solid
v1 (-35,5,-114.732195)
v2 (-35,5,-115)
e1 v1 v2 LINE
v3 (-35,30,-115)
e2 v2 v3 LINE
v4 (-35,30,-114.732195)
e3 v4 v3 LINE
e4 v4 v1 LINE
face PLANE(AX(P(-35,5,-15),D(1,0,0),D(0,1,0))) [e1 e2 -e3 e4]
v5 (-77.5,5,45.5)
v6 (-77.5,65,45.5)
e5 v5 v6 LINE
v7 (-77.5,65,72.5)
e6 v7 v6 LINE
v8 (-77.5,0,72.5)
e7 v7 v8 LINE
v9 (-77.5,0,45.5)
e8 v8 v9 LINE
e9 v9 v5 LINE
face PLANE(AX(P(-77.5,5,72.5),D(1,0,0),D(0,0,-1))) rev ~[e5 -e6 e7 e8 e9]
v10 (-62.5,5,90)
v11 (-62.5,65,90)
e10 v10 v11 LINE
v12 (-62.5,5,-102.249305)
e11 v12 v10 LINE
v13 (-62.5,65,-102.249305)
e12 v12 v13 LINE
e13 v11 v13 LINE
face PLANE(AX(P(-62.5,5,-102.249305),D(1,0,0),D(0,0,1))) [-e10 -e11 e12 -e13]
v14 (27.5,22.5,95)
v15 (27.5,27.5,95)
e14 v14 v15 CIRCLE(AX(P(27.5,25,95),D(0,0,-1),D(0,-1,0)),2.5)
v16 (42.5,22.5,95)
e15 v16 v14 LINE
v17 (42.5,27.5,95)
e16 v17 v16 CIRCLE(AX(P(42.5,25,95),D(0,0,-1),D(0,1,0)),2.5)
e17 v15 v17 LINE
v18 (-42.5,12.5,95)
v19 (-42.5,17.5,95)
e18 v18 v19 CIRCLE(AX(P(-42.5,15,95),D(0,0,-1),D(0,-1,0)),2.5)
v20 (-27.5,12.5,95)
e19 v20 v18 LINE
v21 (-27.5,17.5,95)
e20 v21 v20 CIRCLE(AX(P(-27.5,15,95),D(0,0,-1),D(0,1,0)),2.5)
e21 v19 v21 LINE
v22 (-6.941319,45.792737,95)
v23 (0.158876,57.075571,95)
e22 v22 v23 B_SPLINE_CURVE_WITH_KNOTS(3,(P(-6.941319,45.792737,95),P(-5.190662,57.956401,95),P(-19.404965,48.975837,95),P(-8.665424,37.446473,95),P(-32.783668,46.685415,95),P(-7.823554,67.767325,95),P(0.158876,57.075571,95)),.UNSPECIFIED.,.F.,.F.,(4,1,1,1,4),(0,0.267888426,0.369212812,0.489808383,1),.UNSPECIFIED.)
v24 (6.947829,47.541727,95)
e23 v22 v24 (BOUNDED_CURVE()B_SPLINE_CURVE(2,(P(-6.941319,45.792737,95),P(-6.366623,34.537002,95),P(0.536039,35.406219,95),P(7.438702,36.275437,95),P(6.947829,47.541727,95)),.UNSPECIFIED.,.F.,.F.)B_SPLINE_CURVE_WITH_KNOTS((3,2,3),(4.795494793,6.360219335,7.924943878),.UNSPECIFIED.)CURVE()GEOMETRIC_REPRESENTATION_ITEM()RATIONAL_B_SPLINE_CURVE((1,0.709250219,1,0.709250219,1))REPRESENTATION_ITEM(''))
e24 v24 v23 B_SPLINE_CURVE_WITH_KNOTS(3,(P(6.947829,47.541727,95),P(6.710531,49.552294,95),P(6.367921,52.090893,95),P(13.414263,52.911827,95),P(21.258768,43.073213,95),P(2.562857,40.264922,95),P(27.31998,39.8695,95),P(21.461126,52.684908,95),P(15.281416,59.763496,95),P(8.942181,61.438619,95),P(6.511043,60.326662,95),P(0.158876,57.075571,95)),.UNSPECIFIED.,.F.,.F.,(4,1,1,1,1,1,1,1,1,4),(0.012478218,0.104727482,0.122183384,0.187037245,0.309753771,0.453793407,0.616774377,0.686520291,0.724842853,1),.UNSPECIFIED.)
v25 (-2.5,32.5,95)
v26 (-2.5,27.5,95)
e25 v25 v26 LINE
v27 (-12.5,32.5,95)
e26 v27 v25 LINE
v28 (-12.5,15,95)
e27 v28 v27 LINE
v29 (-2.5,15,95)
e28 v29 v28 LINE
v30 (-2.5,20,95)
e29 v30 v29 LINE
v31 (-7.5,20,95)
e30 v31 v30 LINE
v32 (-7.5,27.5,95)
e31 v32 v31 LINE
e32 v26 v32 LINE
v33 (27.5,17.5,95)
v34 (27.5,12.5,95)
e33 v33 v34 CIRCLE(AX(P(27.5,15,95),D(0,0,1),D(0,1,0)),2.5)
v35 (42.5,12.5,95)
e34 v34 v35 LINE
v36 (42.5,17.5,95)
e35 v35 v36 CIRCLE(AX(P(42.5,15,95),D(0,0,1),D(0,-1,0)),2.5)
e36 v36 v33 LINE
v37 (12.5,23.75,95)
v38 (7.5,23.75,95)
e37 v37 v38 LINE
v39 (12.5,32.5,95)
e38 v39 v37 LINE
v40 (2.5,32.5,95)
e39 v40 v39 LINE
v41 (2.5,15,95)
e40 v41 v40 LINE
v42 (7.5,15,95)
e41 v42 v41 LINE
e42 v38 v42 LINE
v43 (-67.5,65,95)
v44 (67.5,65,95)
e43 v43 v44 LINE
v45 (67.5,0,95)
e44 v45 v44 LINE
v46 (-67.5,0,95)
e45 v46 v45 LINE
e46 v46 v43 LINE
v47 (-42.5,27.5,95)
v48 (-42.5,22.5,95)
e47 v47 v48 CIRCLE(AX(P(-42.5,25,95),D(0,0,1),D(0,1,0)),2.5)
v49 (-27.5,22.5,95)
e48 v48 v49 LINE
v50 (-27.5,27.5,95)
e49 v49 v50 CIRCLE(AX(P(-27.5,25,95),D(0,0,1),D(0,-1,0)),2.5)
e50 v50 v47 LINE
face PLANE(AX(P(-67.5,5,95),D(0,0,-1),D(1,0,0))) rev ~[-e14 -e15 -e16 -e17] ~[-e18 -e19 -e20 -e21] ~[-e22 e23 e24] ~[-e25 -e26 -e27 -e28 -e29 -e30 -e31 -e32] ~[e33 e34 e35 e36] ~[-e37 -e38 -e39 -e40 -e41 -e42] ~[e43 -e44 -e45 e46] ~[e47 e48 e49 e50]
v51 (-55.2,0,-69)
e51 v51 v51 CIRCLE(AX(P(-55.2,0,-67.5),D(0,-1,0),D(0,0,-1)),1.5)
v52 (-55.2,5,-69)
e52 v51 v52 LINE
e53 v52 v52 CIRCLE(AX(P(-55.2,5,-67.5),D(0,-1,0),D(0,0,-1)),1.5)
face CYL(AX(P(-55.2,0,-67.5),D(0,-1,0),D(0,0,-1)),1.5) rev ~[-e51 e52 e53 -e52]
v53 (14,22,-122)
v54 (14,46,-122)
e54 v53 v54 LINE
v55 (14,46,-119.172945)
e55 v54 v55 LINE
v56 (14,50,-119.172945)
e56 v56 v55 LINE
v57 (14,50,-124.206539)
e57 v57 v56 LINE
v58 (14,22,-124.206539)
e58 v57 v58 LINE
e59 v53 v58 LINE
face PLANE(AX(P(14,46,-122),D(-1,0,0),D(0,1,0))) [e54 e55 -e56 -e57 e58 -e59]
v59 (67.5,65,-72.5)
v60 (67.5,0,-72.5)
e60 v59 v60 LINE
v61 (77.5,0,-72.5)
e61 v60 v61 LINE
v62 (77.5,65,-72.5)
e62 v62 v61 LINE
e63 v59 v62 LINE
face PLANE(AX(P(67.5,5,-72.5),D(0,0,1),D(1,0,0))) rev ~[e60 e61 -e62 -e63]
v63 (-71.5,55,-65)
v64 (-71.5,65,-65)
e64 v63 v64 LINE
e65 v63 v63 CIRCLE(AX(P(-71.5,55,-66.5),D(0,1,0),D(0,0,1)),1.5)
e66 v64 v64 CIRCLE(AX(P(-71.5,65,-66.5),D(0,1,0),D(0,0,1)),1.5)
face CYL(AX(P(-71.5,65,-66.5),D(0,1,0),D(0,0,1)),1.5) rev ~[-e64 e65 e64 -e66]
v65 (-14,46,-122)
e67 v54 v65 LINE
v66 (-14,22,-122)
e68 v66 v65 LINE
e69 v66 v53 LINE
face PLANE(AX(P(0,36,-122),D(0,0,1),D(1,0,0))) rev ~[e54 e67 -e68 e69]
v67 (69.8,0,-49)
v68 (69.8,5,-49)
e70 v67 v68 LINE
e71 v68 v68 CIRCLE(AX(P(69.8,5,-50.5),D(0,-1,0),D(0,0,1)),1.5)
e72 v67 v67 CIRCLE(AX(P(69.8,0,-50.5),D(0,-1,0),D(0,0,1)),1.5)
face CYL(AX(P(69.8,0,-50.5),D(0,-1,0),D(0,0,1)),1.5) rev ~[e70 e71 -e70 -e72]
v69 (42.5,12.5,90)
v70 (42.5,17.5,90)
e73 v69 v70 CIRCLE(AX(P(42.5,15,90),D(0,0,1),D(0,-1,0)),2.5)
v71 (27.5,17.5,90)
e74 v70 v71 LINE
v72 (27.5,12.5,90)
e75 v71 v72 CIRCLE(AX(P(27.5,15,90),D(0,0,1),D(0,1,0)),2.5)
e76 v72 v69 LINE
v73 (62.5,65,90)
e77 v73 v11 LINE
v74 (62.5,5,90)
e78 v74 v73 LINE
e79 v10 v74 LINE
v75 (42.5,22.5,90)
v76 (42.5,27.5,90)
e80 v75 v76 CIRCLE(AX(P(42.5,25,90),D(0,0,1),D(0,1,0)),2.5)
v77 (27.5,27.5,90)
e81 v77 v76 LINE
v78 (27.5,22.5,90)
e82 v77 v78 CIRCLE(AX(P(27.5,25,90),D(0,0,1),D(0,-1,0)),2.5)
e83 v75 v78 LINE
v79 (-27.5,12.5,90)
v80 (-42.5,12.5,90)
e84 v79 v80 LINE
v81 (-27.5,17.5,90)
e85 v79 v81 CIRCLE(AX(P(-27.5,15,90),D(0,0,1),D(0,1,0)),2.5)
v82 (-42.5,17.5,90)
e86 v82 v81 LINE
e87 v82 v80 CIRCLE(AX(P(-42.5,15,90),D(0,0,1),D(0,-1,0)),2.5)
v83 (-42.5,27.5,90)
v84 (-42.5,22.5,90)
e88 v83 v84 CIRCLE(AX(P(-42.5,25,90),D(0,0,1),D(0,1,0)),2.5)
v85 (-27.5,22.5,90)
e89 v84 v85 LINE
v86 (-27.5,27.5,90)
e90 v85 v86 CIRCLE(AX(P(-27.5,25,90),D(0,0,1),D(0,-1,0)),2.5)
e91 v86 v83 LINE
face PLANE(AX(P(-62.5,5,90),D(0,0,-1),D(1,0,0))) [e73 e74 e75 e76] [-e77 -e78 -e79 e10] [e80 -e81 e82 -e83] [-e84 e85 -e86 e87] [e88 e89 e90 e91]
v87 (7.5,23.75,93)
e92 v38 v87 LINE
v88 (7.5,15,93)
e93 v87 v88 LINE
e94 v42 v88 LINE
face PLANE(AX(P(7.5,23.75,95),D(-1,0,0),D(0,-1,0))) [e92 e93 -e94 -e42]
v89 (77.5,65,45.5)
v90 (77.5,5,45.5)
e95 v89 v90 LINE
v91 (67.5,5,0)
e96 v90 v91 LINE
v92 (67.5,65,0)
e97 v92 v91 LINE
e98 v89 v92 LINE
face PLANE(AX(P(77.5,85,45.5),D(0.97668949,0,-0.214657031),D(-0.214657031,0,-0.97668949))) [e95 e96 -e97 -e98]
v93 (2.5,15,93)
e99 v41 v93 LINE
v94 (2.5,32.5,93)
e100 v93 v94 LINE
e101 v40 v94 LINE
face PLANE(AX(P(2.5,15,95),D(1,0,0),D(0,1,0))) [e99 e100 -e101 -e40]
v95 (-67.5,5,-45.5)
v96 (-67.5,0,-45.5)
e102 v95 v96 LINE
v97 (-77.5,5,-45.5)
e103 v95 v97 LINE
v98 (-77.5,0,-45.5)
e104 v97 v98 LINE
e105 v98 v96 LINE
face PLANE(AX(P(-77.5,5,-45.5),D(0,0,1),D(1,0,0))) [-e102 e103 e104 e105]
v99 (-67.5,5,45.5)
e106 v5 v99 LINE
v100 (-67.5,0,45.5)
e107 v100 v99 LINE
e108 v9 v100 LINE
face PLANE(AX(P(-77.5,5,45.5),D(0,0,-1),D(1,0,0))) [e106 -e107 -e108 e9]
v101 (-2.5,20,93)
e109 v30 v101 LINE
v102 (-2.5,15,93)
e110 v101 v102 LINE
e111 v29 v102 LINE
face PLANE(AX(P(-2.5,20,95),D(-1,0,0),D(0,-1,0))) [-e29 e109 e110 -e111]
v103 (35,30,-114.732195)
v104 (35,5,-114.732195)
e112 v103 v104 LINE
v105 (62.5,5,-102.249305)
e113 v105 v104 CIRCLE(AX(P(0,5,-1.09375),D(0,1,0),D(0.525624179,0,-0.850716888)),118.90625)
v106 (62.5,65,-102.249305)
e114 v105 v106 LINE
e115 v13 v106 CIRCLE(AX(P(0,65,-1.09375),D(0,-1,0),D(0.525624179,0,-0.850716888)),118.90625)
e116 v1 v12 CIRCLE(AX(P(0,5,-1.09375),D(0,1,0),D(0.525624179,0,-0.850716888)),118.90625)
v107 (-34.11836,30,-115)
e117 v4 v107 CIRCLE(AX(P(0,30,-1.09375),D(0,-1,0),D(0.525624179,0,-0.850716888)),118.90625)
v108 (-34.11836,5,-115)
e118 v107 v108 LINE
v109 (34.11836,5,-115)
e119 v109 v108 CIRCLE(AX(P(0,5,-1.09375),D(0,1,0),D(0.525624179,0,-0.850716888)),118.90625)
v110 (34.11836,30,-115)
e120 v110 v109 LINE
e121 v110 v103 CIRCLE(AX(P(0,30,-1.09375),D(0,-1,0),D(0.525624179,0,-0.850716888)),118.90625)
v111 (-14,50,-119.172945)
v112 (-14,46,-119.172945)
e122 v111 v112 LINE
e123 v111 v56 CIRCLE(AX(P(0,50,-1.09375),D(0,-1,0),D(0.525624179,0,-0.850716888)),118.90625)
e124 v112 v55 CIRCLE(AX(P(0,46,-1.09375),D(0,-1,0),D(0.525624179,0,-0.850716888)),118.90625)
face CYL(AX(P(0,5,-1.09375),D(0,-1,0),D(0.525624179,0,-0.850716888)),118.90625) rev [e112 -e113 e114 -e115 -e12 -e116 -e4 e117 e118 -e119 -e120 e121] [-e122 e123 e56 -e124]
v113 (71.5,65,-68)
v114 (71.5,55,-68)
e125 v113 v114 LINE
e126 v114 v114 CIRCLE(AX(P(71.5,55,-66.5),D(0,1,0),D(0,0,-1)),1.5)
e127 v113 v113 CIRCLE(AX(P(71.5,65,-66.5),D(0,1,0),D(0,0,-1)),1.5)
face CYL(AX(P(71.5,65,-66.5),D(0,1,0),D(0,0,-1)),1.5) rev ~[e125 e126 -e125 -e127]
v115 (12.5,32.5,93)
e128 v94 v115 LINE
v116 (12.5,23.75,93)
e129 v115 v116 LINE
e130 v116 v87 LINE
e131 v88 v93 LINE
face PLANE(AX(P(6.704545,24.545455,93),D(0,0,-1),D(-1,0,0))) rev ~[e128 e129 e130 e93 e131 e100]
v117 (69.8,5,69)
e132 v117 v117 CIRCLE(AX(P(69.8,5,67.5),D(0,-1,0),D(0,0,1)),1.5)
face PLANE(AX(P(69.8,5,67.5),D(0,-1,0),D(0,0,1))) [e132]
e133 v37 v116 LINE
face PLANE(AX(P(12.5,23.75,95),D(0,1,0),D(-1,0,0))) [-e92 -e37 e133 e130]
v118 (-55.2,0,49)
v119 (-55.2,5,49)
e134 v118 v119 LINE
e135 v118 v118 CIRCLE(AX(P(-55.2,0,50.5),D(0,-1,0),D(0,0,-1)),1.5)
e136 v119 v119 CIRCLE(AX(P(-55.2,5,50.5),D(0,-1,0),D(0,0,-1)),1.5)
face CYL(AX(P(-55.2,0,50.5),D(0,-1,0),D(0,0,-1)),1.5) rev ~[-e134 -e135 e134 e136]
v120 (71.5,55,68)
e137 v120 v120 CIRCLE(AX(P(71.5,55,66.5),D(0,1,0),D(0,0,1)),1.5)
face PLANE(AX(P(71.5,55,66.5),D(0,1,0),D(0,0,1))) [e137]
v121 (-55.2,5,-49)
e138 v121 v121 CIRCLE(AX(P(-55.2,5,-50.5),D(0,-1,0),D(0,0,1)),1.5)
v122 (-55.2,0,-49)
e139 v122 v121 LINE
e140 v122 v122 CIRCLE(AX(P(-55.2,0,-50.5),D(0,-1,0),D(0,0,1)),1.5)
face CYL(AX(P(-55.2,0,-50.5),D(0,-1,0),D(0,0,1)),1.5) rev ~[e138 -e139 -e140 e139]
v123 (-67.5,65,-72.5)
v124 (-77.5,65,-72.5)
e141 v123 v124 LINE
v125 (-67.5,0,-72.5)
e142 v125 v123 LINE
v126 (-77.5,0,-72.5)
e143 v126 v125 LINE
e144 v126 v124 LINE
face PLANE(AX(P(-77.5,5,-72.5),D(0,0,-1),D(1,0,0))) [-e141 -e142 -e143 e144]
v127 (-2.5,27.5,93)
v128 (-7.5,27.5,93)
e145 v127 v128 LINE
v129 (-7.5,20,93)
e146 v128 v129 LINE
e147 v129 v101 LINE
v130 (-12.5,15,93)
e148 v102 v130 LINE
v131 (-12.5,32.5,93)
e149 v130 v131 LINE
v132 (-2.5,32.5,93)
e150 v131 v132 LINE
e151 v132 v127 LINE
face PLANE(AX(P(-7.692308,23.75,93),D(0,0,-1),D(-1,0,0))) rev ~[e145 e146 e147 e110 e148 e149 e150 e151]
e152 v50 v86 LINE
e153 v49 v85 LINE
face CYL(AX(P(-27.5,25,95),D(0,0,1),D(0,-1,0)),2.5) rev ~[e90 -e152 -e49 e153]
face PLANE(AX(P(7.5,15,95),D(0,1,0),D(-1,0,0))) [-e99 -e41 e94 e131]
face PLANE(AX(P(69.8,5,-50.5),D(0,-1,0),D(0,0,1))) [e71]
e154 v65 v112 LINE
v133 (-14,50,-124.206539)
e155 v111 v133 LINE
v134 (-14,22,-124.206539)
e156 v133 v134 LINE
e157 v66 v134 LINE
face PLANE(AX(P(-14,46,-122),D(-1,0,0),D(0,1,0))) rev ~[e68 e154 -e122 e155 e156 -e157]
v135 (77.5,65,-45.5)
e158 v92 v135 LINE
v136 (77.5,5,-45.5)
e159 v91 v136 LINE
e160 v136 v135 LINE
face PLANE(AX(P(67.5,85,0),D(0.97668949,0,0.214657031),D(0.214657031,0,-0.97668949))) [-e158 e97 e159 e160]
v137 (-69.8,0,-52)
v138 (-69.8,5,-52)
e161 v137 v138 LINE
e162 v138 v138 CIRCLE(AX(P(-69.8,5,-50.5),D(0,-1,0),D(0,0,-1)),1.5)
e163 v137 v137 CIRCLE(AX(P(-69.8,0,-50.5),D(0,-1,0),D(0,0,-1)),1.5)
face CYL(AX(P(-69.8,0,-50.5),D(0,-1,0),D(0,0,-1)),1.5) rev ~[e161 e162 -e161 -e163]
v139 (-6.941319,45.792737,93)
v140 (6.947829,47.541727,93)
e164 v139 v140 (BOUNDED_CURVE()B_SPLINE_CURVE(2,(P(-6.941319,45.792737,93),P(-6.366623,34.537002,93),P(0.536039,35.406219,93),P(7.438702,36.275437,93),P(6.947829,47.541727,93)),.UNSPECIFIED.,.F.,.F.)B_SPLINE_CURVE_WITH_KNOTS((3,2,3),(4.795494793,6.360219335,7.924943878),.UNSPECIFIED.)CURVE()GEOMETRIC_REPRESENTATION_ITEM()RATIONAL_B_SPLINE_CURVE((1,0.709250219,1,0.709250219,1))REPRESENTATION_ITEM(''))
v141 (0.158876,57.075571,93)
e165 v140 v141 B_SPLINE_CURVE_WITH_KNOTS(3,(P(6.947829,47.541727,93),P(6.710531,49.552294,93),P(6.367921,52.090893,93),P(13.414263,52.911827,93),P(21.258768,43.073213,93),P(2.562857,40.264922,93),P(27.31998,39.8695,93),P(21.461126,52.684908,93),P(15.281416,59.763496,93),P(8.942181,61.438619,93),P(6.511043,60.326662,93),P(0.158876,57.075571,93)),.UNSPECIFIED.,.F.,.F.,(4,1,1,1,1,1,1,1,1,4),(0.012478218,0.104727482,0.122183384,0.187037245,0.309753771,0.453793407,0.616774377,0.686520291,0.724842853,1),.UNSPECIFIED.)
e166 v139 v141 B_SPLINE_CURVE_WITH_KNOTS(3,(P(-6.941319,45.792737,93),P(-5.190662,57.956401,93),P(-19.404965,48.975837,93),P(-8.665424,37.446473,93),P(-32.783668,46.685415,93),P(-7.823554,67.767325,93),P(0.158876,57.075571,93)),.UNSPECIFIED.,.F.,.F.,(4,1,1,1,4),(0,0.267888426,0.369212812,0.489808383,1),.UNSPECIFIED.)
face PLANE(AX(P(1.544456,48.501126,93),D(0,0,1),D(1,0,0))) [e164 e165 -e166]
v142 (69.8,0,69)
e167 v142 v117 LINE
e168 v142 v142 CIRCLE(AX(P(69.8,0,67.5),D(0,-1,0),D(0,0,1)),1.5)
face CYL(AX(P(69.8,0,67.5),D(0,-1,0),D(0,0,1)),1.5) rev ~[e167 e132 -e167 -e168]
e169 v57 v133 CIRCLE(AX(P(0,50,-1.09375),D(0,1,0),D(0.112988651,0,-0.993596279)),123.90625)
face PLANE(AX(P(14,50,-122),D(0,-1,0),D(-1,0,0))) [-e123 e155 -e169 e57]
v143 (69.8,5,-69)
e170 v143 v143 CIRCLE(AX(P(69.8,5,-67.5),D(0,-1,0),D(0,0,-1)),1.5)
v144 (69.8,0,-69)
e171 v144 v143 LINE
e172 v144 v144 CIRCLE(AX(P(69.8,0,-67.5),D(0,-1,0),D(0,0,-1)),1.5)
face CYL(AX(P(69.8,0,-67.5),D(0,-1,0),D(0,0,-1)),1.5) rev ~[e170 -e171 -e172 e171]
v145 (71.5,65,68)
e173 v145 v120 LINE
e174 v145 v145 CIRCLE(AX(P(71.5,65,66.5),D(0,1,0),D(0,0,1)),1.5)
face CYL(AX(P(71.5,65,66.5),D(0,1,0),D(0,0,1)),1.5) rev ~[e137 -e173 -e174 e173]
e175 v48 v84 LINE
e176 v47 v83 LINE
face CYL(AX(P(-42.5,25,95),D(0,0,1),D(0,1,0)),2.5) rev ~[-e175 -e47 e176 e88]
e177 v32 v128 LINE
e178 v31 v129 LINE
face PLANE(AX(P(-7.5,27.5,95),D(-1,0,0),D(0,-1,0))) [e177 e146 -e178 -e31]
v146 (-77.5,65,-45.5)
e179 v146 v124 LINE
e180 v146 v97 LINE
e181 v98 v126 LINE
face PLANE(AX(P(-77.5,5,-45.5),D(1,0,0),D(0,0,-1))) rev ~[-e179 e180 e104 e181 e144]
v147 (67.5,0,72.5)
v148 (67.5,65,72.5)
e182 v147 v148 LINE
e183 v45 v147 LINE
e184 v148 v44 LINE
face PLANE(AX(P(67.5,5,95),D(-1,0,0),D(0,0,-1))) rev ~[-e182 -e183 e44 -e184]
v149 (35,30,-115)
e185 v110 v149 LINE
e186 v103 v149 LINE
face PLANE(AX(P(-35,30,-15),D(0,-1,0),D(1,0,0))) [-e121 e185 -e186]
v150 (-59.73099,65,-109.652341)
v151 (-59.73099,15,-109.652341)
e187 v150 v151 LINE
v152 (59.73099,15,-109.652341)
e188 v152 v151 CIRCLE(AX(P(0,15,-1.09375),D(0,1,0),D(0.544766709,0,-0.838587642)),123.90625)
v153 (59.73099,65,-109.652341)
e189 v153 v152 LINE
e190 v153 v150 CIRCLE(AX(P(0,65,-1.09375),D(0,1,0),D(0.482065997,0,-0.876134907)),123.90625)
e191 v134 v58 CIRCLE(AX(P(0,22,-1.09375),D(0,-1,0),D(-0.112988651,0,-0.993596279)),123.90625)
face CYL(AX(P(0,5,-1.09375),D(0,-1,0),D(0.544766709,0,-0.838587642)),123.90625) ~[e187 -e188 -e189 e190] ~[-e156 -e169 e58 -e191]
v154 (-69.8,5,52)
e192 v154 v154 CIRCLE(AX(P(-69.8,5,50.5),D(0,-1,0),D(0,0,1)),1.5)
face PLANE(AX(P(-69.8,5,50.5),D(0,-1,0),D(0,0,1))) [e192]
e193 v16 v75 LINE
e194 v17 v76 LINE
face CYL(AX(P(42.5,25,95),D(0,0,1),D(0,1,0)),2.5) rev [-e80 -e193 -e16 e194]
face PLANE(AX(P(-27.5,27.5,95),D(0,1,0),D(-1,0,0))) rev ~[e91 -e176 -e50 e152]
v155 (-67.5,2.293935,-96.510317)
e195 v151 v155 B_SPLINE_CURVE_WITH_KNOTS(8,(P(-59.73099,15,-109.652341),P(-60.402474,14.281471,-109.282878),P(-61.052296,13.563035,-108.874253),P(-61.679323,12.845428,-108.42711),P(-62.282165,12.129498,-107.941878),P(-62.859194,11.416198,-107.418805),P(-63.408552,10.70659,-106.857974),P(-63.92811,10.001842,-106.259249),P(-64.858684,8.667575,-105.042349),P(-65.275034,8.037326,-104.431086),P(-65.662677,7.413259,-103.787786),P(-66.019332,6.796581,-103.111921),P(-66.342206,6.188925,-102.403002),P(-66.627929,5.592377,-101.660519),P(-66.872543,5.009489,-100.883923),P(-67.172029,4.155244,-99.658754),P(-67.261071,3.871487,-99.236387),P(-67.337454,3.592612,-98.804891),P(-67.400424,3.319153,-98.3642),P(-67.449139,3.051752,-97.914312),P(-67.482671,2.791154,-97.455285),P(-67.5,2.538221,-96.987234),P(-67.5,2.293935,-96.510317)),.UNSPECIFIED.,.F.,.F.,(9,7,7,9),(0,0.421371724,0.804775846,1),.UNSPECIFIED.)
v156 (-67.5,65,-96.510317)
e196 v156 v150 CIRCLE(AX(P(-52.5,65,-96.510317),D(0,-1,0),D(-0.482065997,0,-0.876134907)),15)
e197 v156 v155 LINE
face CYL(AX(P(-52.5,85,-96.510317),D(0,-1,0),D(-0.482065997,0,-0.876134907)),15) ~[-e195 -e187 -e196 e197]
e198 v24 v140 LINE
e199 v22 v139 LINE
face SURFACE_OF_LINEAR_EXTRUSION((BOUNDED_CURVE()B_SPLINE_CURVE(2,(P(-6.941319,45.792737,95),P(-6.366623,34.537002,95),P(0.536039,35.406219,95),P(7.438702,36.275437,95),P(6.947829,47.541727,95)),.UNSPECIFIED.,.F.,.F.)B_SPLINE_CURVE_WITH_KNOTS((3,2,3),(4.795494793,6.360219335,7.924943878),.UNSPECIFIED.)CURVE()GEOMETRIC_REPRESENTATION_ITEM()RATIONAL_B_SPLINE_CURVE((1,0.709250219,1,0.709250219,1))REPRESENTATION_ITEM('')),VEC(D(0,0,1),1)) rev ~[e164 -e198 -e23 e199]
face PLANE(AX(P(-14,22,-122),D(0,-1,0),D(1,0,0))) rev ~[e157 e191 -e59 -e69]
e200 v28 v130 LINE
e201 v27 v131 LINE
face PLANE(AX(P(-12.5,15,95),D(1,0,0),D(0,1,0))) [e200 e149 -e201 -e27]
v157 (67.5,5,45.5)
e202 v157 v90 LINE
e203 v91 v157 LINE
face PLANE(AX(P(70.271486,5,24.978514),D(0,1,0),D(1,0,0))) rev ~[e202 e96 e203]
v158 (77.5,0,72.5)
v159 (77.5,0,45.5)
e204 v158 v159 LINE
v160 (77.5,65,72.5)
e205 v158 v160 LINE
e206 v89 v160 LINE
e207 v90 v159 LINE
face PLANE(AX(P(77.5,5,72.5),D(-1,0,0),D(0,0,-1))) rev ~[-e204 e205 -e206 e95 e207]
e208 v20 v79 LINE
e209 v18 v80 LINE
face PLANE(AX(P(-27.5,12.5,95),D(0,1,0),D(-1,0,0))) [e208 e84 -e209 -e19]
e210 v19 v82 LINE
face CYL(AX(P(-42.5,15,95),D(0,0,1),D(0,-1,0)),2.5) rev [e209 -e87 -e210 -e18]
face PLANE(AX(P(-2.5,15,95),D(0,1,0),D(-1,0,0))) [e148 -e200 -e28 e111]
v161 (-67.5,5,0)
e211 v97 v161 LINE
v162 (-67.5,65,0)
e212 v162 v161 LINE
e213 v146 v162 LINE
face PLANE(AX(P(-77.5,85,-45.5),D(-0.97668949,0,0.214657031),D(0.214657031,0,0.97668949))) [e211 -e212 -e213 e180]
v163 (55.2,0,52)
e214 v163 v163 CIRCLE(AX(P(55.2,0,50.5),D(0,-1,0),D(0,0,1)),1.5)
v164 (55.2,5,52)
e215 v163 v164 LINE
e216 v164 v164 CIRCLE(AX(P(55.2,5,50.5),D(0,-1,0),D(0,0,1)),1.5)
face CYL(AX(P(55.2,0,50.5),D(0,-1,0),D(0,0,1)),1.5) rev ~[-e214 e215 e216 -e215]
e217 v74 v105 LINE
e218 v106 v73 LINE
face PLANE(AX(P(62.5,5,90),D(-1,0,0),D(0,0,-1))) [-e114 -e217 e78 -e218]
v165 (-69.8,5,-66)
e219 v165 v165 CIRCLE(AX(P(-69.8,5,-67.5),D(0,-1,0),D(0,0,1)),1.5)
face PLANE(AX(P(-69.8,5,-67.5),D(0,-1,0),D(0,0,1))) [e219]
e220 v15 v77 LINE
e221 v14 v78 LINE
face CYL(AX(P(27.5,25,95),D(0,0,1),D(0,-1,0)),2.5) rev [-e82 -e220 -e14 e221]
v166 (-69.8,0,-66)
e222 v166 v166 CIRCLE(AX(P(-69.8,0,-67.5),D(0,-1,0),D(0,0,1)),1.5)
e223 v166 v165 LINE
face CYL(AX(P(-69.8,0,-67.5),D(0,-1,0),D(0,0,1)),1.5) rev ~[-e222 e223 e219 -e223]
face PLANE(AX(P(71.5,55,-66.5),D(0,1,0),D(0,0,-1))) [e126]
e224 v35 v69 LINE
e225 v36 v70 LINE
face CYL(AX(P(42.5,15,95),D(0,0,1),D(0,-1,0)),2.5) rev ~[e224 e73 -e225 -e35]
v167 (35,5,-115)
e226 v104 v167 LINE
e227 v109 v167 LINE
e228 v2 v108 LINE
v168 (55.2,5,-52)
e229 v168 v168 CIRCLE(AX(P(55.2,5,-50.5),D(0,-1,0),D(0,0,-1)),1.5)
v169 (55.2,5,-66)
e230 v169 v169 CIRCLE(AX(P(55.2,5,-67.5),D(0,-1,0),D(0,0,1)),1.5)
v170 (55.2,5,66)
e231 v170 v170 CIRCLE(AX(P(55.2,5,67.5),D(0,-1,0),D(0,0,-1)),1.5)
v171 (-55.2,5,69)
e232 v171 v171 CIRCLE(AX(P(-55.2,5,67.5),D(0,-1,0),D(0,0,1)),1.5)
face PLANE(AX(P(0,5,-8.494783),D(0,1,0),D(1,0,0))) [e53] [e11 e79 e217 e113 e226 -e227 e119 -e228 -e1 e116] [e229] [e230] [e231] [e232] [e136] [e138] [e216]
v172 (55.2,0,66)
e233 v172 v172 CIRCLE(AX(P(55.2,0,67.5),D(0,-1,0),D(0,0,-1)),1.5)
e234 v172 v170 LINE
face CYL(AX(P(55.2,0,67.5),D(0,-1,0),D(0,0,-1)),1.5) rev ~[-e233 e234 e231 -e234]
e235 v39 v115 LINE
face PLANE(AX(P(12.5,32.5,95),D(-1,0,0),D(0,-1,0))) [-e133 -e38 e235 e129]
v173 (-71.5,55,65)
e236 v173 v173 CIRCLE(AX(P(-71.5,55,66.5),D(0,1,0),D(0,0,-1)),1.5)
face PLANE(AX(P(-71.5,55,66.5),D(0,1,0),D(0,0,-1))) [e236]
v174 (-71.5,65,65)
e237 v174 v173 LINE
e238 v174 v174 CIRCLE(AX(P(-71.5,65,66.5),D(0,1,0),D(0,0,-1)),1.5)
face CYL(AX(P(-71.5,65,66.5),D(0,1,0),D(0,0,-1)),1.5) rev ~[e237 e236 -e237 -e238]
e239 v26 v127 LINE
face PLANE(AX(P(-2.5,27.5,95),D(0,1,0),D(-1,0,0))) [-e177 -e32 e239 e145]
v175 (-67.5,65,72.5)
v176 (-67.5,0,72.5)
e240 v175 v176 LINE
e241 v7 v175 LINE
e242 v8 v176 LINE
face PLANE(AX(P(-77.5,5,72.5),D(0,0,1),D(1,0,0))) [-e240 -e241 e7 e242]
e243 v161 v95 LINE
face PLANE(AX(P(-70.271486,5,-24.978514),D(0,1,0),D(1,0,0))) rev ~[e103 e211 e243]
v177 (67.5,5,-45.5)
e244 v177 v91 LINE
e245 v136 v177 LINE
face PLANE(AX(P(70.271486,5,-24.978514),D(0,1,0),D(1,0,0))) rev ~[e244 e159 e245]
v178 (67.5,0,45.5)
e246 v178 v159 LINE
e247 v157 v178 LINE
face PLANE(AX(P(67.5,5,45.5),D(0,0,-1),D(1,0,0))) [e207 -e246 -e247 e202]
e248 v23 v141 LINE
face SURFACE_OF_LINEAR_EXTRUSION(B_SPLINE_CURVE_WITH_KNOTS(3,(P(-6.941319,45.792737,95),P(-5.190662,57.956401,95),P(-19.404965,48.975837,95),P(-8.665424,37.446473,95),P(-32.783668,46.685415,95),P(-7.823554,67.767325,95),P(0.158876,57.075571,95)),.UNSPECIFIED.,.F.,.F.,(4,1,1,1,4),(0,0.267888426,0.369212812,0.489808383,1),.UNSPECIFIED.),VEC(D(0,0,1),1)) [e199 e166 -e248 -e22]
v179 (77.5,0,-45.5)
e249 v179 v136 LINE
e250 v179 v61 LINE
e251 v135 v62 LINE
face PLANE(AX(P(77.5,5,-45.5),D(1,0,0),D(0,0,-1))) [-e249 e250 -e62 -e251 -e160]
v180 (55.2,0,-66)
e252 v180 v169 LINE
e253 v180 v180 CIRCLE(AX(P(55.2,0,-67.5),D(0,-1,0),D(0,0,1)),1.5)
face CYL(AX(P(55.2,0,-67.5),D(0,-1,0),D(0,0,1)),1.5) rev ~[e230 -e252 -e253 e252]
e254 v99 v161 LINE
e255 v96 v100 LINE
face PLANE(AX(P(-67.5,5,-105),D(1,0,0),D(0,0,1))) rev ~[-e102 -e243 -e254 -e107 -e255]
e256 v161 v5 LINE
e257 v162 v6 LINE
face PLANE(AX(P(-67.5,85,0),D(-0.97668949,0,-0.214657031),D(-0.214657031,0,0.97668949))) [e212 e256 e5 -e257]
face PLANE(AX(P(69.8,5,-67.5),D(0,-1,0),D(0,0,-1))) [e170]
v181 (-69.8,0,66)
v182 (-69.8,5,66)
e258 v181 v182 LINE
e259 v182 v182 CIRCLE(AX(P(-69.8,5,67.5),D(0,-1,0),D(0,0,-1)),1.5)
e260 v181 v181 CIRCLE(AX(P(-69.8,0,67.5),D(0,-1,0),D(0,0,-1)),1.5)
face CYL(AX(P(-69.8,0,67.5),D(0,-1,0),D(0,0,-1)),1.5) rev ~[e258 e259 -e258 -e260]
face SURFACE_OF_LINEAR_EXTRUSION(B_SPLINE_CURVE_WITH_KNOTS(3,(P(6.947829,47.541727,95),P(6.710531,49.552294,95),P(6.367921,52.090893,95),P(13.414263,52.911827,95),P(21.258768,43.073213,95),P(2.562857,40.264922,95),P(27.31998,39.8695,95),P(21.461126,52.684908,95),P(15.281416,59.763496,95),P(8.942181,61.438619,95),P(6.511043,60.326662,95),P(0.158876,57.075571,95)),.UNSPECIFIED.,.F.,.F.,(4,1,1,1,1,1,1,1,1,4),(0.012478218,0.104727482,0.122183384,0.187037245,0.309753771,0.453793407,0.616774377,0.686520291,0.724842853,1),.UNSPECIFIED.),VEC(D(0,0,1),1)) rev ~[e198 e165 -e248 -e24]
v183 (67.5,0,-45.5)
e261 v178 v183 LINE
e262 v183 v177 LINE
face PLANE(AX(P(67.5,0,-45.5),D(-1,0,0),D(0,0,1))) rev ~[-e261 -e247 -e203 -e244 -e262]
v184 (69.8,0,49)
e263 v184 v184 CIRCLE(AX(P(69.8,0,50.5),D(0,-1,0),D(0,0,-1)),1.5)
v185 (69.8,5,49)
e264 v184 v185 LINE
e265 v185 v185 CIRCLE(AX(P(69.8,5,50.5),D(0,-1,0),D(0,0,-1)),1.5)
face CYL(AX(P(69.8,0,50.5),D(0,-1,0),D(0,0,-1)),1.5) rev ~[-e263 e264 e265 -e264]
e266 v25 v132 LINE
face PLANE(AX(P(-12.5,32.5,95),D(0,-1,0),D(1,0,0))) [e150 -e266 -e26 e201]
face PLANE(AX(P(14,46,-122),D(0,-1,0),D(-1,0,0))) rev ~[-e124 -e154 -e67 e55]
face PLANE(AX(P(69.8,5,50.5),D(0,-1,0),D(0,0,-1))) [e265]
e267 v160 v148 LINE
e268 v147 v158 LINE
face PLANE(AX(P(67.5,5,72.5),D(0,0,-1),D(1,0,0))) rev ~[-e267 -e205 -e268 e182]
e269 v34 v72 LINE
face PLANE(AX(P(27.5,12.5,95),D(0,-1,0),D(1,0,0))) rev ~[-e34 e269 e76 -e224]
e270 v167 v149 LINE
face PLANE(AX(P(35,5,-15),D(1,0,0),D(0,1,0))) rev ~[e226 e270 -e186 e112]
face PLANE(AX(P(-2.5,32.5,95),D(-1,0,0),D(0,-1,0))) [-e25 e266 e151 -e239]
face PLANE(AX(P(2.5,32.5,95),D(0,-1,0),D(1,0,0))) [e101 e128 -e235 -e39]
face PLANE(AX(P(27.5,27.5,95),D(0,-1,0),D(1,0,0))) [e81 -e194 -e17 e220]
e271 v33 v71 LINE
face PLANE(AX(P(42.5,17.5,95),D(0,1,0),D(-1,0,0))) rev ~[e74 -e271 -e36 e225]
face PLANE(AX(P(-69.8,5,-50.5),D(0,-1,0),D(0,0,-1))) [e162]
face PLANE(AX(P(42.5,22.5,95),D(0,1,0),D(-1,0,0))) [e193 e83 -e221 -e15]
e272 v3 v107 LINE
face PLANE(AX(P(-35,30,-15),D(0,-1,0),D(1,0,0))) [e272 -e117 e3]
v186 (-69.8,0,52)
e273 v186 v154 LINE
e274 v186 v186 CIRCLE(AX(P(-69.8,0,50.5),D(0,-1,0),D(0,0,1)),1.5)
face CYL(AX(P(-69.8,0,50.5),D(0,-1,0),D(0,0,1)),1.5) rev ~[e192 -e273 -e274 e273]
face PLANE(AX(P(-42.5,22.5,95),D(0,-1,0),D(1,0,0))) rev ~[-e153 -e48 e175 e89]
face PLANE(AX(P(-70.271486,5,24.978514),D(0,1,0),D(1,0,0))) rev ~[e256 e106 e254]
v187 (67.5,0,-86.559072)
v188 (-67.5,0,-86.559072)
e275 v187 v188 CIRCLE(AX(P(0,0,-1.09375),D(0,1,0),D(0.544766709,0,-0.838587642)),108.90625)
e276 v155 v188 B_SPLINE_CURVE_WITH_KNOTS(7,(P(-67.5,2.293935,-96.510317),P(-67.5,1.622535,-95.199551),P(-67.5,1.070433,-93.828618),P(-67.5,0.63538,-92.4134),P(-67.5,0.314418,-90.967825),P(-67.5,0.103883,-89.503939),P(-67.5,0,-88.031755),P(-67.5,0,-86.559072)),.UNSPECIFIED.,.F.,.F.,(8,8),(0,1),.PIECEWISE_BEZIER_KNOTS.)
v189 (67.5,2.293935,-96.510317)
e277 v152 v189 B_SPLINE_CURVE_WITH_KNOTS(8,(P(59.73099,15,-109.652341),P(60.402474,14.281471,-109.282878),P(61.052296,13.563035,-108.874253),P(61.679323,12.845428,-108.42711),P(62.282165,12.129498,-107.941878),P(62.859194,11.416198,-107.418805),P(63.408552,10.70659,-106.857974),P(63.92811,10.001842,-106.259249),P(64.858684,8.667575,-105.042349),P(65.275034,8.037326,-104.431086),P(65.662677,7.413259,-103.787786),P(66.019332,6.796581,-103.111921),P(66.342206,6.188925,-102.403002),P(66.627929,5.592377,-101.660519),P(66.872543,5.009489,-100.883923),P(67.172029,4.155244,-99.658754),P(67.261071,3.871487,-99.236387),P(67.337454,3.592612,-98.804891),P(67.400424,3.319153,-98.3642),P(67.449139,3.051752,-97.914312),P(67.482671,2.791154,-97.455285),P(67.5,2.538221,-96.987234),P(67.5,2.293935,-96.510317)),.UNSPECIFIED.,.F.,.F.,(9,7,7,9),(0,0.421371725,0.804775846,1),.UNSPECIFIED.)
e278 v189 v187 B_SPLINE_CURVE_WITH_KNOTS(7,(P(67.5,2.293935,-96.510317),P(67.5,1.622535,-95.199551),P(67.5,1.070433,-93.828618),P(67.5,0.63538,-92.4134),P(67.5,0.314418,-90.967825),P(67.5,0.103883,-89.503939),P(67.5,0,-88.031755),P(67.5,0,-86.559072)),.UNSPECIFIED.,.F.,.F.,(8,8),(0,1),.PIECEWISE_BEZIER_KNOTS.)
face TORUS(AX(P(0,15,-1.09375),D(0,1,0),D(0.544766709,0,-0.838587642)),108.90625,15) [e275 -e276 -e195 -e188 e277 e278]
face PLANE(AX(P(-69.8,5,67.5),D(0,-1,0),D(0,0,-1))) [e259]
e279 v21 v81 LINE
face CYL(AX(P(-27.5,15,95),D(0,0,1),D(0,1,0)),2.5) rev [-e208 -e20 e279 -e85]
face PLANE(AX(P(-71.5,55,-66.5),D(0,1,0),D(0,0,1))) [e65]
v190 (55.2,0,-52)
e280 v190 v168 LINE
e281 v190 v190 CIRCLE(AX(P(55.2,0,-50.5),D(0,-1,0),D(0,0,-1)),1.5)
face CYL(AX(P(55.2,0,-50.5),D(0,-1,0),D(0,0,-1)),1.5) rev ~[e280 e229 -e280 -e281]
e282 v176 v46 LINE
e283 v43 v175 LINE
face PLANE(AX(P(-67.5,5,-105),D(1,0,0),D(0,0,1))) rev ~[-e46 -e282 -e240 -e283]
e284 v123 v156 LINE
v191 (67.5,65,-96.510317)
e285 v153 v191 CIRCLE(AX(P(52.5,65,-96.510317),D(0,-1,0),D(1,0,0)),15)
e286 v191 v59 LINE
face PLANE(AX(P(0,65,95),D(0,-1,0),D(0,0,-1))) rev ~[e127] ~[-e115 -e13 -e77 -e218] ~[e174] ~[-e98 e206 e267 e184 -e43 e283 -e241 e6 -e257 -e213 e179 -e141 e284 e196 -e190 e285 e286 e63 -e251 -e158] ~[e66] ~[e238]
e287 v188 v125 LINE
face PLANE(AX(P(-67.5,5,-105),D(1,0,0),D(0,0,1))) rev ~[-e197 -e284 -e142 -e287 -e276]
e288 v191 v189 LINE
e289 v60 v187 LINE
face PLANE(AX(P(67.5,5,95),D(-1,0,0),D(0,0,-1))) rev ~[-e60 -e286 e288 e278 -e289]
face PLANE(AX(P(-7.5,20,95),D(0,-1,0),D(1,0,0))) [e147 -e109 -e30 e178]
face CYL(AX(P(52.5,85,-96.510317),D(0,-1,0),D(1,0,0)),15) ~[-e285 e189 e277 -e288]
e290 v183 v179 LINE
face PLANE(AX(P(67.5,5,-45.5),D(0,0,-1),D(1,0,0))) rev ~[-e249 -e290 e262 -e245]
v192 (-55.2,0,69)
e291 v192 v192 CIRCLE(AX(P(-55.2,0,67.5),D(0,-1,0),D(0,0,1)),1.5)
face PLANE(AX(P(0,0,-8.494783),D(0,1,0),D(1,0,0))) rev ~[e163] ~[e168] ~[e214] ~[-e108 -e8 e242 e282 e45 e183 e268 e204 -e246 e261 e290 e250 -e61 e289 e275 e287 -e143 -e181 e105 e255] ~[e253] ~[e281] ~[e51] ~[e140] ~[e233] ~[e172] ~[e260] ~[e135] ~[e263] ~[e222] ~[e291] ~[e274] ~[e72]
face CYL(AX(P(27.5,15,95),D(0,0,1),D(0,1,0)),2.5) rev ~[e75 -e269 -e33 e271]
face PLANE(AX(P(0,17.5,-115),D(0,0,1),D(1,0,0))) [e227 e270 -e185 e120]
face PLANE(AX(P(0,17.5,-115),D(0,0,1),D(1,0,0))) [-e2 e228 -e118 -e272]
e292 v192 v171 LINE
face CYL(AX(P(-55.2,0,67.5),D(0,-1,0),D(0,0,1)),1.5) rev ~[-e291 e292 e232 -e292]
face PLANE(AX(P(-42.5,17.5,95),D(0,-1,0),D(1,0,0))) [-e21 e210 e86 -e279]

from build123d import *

# Parameters (mm, degrees)
SALIENTE_EXTRUIR1_DEPTH     = 5
CROQUIS2_W                  = 10
CROQUIS2_H                  = 27
SALIENTE_EXTRUIR2_DEPTH     = 5
SALIENTE_EXTRUIR2_2_DEPTH   = 5
SALIENTE_EXTRUIR2_3_DEPTH   = 5
SALIENTE_EXTRUIR2_4_DEPTH   = 5
CROQUIS4_W                  = 10
CROQUIS4_H                  = 27
SALIENTE_EXTRUIR5_DEPTH     = 80
EXTRUIR_L_MINA4_DEPTH       = 80
SALIENTE_EXTRUIR6_DEPTH     = 80
REDONDEO3_R                 = 15
CROQUIS15_W                 = 220
CROQUIS15_H                 = 20
CORTAR_EXTRUIR2_DEPTH       = 100
CROQUIS16_R                 = 1.5
CORTAR_EXTRUIR3_DEPTH       = 10
CROQUIS17_W                 = 5
CROQUIS17_H                 = 91
EXTRUIR_L_MINA5_DEPTH       = 20
CROQUIS18_W                 = 125
CROQUIS18_H                 = 5
EXTRUIR_L_MINA6_DEPTH       = 20
CORTAR_EXTRUIR4_DEPTH       = 174.122788832
CROQUIS20_W                 = 70
CROQUIS20_H                 = 100
CROQUIS20_W_2               = 60
CROQUIS20_H_2               = 90
EXTRUIR_L_MINA7_DEPTH       = 25
CROQUIS21_R                 = 1.5
CORTAR_EXTRUIR5_DEPTH       = 15
CORTAR_EXTRUIR7_REACH       = 182.295
CROQUIS26_W                 = 85
CROQUIS26_H                 = 20
CORTAR_EXTRUIR8_REACH       = 151.436
CROQUIS27_W                 = 60
CROQUIS27_H                 = 20
CROQUIS28_R                 = 1.5
CORTAR_EXTRUIR9_DEPTH       = 5
CORTAR_EXTRUIR10_START      = -122
CROQUIS29_W                 = 28
CROQUIS29_H                 = 28
CORTAR_EXTRUIR10_DEPTH      = 3
CROQUIS33_W                 = 28
CROQUIS33_H                 = 4
CORTAR_EXTRUIR11_DEPTH      = 50
CORTAR_EXTRUIR12_DEPTH      = 199.620240756
CORTAR_EXTRUIR12_DEPTH_BACK = 199.620240756
CROQUIS34_W                 = 91
CROQUIS34_H                 = 20
CORTAR_EXTRUIR13_REACH      = 151.436
CROQUIS35_W                 = 60
CROQUIS35_H                 = 5
CROQUIS36_W                 = 70
CROQUIS36_H                 = 25
CORTAR_EXTRUIR14_DEPTH      = 100
CORTAR_EXTRUIR15_REACH      = 244.139
CORTAR_EXTRUIR16_DEPTH      = 2
CORTAR_EXTRUIR17_DEPTH      = 2


with BuildPart() as part:
    # Croquis1 → Saliente-Extruir1 (new body)
    with BuildSketch(Plane(origin=(0, 0, 0), x_dir=(1, 0, 0), z_dir=(0, 1, 0))):
        with BuildLine():
            Line((-67.5, -95), (67.5, -95))
            Line((67.5, -95), (67.5, 105))
            ThreePointArc((67.5, 105), (0, 125), (-67.5, 105))
            Line((-67.5, 105), (-67.5, -95))
        make_face()
    extrude(amount=SALIENTE_EXTRUIR1_DEPTH)



with BuildPart() as body_2:
    # Croquis2 → Saliente-Extruir2 (new body)
    with BuildSketch(Plane(origin=(0, 5, 0), x_dir=(1, 0, 0), z_dir=(0, 1, 0))):
        with Locations((-72.5, 59)):
            Rectangle(CROQUIS2_W, CROQUIS2_H)
    extrude(amount=-SALIENTE_EXTRUIR2_DEPTH)


with BuildPart() as body_3:
    # Croquis2 → Saliente-Extruir2 2 (new body)
    with BuildSketch(Plane(origin=(0, 5, 0), x_dir=(1, 0, 0), z_dir=(0, 1, 0))):
        with Locations((-72.5, -59)):
            Rectangle(CROQUIS2_W, CROQUIS2_H)
    extrude(amount=-SALIENTE_EXTRUIR2_2_DEPTH)


with BuildPart() as body_4:
    # Croquis2 → Saliente-Extruir2 3 (new body)
    with BuildSketch(Plane(origin=(0, 5, 0), x_dir=(1, 0, 0), z_dir=(0, 1, 0))):
        with Locations((72.5, -59)):
            Rectangle(CROQUIS2_W, CROQUIS2_H)
    extrude(amount=-SALIENTE_EXTRUIR2_3_DEPTH)


with BuildPart() as body_5:
    # Croquis2 → Saliente-Extruir2 4 (new body)
    with BuildSketch(Plane(origin=(0, 5, 0), x_dir=(1, 0, 0), z_dir=(0, 1, 0))):
        with Locations((72.5, 59)):
            Rectangle(CROQUIS2_W, CROQUIS2_H)
    extrude(amount=-SALIENTE_EXTRUIR2_4_DEPTH)


with BuildPart() as part_1:
    add(part.part)

    add(body_2.part)  # Saliente-Extruir5 merges body 2

    add(body_3.part)  # Saliente-Extruir5 merges body 3

    add(body_4.part)  # Saliente-Extruir5 merges body 4

    add(body_5.part)  # Saliente-Extruir5 merges body 5
    # Croquis4 → Saliente-Extruir5 (add)
    with BuildSketch(Plane(origin=(0, 5, 0), x_dir=(1, 0, 0), z_dir=(0, 1, 0))):
        with Locations((72.5, -59)):
            Rectangle(CROQUIS4_W, CROQUIS4_H)
        with Locations((-72.5, 59)):
            Rectangle(CROQUIS4_W, CROQUIS4_H)
        with Locations((72.5, 59)):
            Rectangle(CROQUIS4_W, CROQUIS4_H)
        with Locations((-72.5, -59)):
            Rectangle(CROQUIS4_W, CROQUIS4_H)
    extrude(amount=SALIENTE_EXTRUIR5_DEPTH)

    # Croquis12 → Extruir-Lámina4 (add)
    with BuildSketch(Plane(origin=(0, 5, 0), x_dir=(1, 0, 0), z_dir=(0, 1, 0))):
        with BuildLine():
            Line((-67.5, 105), (-67.5, 72.5))
            Line((-67.5, 72.5), (-67.5, 45.5))
            Line((-67.5, 45.5), (-67.5, -45.5))
            Line((-67.5, -45.5), (-67.5, -72.5))
            Line((-67.5, -72.5), (-67.5, -95))
            Line((-67.5, -95), (67.5, -95))
            Line((67.5, -95), (67.5, -72.5))
            Line((67.5, -72.5), (67.5, -45.5))
            Line((67.5, -45.5), (67.5, 45.5))
            Line((67.5, 45.5), (67.5, 72.5))
            Line((67.5, 72.5), (67.5, 105))
            ThreePointArc((67.5, 105), (0, 125), (-67.5, 105))
        make_face()
        with BuildLine():
            Line((-62.5, 102.24930491), (-62.5, 72.5))
            Line((-62.5, 72.5), (-62.5, 45.5))
            Line((-62.5, 45.5), (-62.5, -45.5))
            Line((-62.5, -45.5), (-62.5, -72.5))
            Line((-62.5, -72.5), (-62.5, -90))
            Line((-62.5, -90), (62.5, -90))
            Line((62.5, -90), (62.5, -72.5))
            Line((62.5, -72.5), (62.5, -45.5))
            Line((62.5, -45.5), (62.5, 45.5))
            Line((62.5, 45.5), (62.5, 72.5))
            Line((62.5, 72.5), (62.5, 102.24930491))
            ThreePointArc((62.5, 102.24930491), (0, 120), (-62.5, 102.24930491))
        make_face(mode=Mode.SUBTRACT)
    extrude(amount=EXTRUIR_L_MINA4_DEPTH)

    # Croquis14 → Saliente-Extruir6 (add)
    with BuildSketch(Plane(origin=(0, 85, 0), x_dir=(1, 0, 0), z_dir=(0, 1, 0))):
        Polygon((67.5, 45.5), (67.5, 0), (77.5, 45.5), align=None)
        Polygon((67.5, 0), (67.5, -45.5), (77.5, -45.5), align=None)
        Polygon((-67.5, -45.5), (-67.5, 0), (-77.5, -45.5), align=None)
        Polygon((-67.5, 0), (-67.5, 45.5), (-77.5, 45.5), align=None)
    extrude(amount=-SALIENTE_EXTRUIR6_DEPTH)

    # Redondeo3
    redondeo3_edges = [part_1.edges().sort_by_distance(p)[0] for p in [
        (0, 0, -125),
        (67.5, 42.5, -105),
        (-67.5, 42.5, -105),
    ]]
    fillet(redondeo3_edges, radius=REDONDEO3_R)

    # Croquis15 → Cortar-Extruir2 (cut, symmetric)
    with BuildSketch(Plane(origin=(0, 0, 0), x_dir=(0, 0, -1), z_dir=(1, 0, 0))):
        with Locations((15, 75)):
            Rectangle(CROQUIS15_W, CROQUIS15_H)
    extrude(amount=CORTAR_EXTRUIR2_DEPTH, both=True, mode=Mode.SUBTRACT)

    # Croquis16 → Cortar-Extruir3 (cut, symmetric)
    with BuildSketch(Plane(origin=(0, 65, 0), x_dir=(1, 0, 0), z_dir=(0, 1, 0))):
        with Locations(Location((71.5, -66.5, 0), (0, 0, 270))):
            Circle(CROQUIS16_R)
        with Locations(Location((71.5, 66.5, 0), (0, 0, 90))):
            Circle(CROQUIS16_R)
        with Locations(Location((-71.5, -66.5, 0), (0, 0, 90))):
            Circle(CROQUIS16_R)
        with Locations(Location((-71.5, 66.5, 0), (0, 0, 270))):
            Circle(CROQUIS16_R)
    extrude(amount=CORTAR_EXTRUIR3_DEPTH, both=True, mode=Mode.SUBTRACT)

    # Croquis17 → Extruir-Lámina5 (add)
    with BuildSketch(Plane.XZ):
        with Locations((65, 0)):
            Rectangle(CROQUIS17_W, CROQUIS17_H)
        with Locations((-65, 0)):
            Rectangle(CROQUIS17_W, CROQUIS17_H)
    extrude(amount=EXTRUIR_L_MINA5_DEPTH)

    # Croquis18 → Extruir-Lámina6 (add)
    with BuildSketch(Plane.XZ):
        with Locations((0, 43)):
            Rectangle(CROQUIS18_W, CROQUIS18_H)
        with Locations((0, -43)):
            Rectangle(CROQUIS18_W, CROQUIS18_H)
    extrude(amount=EXTRUIR_L_MINA6_DEPTH)

    # Croquis19 → Cortar-Extruir4 (cut, through all)
    with BuildSketch(Plane(origin=(0, 0, -45.5), x_dir=(-1, 0, 0), z_dir=(0, 0, -1))):
        with BuildLine():
            Line((-45, -5), (45, -5))
            ThreePointArc((45, -5), (50, -10), (45, -15))
            Line((45, -15), (-45, -15))
            ThreePointArc((-45, -15), (-50, -10), (-45, -5))
        make_face()
    extrude(amount=-CORTAR_EXTRUIR4_DEPTH, mode=Mode.SUBTRACT)

    # Croquis20 → Extruir-Lámina7 (add)
    with BuildSketch(Plane(origin=(0, 5, 0), x_dir=(1, 0, 0), z_dir=(0, 1, 0))):
        with Locations((0, 65)):
            Rectangle(CROQUIS20_W, CROQUIS20_H)
        with Locations((0, 65)):
            Rectangle(CROQUIS20_W_2, CROQUIS20_H_2, mode=Mode.SUBTRACT)
    extrude(amount=EXTRUIR_L_MINA7_DEPTH)

    # Croquis21 → Cortar-Extruir5 (cut)
    with BuildSketch(Plane(origin=(0, 30, 0), x_dir=(1, 0, 0), z_dir=(0, 1, 0))):
        with Locations(Location((-32.5, 21, 0), (0, 0, 270))):
            Circle(CROQUIS21_R)
        with Locations(Location((32.5, 21, 0), (0, 0, 90))):
            Circle(CROQUIS21_R)
        with Locations(Location((32.5, 109, 0), (0, 0, 270))):
            Circle(CROQUIS21_R)
        with Locations(Location((-32.5, 109, 0), (0, 0, 90))):
            Circle(CROQUIS21_R)
    extrude(amount=-CORTAR_EXTRUIR5_DEPTH, mode=Mode.SUBTRACT)

    # Croquis26 → Cortar-Extruir7 (cut, up to next)
    with BuildSketch(Plane.ZY.offset(35), mode=Mode.PRIVATE) as cortar_extruir7_sk1:
        with Locations((-62.5, 15)):
            Rectangle(CROQUIS26_W, CROQUIS26_H)
    cortar_extruir7_tool1 = extrude(cortar_extruir7_sk1.sketch, amount=-CORTAR_EXTRUIR7_REACH, mode=Mode.PRIVATE) & part_1.part
    add(cortar_extruir7_tool1.solids().sort_by_distance((-35, 15, -62.5))[0], mode=Mode.SUBTRACT)

    # Croquis27 → Cortar-Extruir8 (cut, up to next)
    with BuildSketch(Plane.XY.offset(-15), mode=Mode.PRIVATE) as cortar_extruir8_sk1:
        with Locations((0, 15)):
            Rectangle(CROQUIS27_W, CROQUIS27_H)
    cortar_extruir8_tool1 = extrude(cortar_extruir8_sk1.sketch, amount=-CORTAR_EXTRUIR8_REACH, mode=Mode.PRIVATE) & part_1.part
    add(cortar_extruir8_tool1.solids().sort_by_distance((0, 15, -15))[0], mode=Mode.SUBTRACT)

    # Croquis28 → Cortar-Extruir9 (cut)
    with BuildSketch(Plane.XZ):
        with Locations(Location((69.8, 50.5, 0), (0, 0, 270))):
            Circle(CROQUIS28_R)
        with Locations(Location((69.8, 67.5, 0), (0, 0, 90))):
            Circle(CROQUIS28_R)
        with Locations(Location((55.2, 50.5, 0), (0, 0, 90))):
            Circle(CROQUIS28_R)
        with Locations(Location((55.2, 67.5, 0), (0, 0, 270))):
            Circle(CROQUIS28_R)
        with Locations(Location((-55.2, 67.5, 0), (0, 0, 90))):
            Circle(CROQUIS28_R)
        with Locations(Location((-69.8, 67.5, 0), (0, 0, 270))):
            Circle(CROQUIS28_R)
        with Locations(Location((-69.8, 50.5, 0), (0, 0, 90))):
            Circle(CROQUIS28_R)
        with Locations(Location((-55.2, 50.5, 0), (0, 0, 270))):
            Circle(CROQUIS28_R)
        with Locations(Location((55.2, -67.5, 0), (0, 0, 90))):
            Circle(CROQUIS28_R)
        with Locations(Location((69.8, -67.5, 0), (0, 0, 270))):
            Circle(CROQUIS28_R)
        with Locations(Location((69.8, -50.5, 0), (0, 0, 90))):
            Circle(CROQUIS28_R)
        with Locations(Location((55.2, -50.5, 0), (0, 0, 270))):
            Circle(CROQUIS28_R)
        with Locations(Location((-55.2, -67.5, 0), (0, 0, 270))):
            Circle(CROQUIS28_R)
        with Locations(Location((-69.8, -67.5, 0), (0, 0, 90))):
            Circle(CROQUIS28_R)
        with Locations(Location((-69.8, -50.5, 0), (0, 0, 270))):
            Circle(CROQUIS28_R)
        with Locations(Location((-55.2, -50.5, 0), (0, 0, 90))):
            Circle(CROQUIS28_R)
    extrude(amount=-CORTAR_EXTRUIR9_DEPTH, mode=Mode.SUBTRACT)

    # Croquis29 → Cortar-Extruir10 (cut)
    with BuildSketch(Plane.XY.offset(CORTAR_EXTRUIR10_START)):
        with Locations((0, 36)):
            Rectangle(CROQUIS29_W, CROQUIS29_H)
    extrude(amount=-CORTAR_EXTRUIR10_DEPTH, mode=Mode.SUBTRACT)

    # Croquis33 → Cortar-Extruir11 (cut)
    with BuildSketch(Plane(origin=(0, 0, -122), x_dir=(-1, 0, 0), z_dir=(0, 0, -1))):
        with Locations((0, 48)):
            Rectangle(CROQUIS33_W, CROQUIS33_H)
    extrude(amount=-CORTAR_EXTRUIR11_DEPTH, mode=Mode.SUBTRACT)

    # Croquis34 → Cortar-Extruir12 (cut, two sides: drawn at the far end of the back side and taken through both)
    with BuildSketch(Plane.ZY.offset(-62.5).offset(-CORTAR_EXTRUIR12_DEPTH_BACK)):
        with Locations((0, -10)):
            Rectangle(CROQUIS34_W, CROQUIS34_H)
    extrude(amount=CORTAR_EXTRUIR12_DEPTH + CORTAR_EXTRUIR12_DEPTH_BACK, mode=Mode.SUBTRACT)

    # Croquis35 → Cortar-Extruir13 (cut, up to next)
    with BuildSketch(Plane.XY.offset(-15), mode=Mode.PRIVATE) as cortar_extruir13_sk1:
        with Locations((0, 27.5)):
            Rectangle(CROQUIS35_W, CROQUIS35_H)
    cortar_extruir13_tool1 = extrude(cortar_extruir13_sk1.sketch, amount=-CORTAR_EXTRUIR13_REACH, mode=Mode.PRIVATE) & part_1.part
    add(cortar_extruir13_tool1.solids().sort_by_distance((0, 27.5, -15))[0], mode=Mode.SUBTRACT)

    # Croquis36 → Cortar-Extruir14 (cut)
    with BuildSketch(Plane.XY.offset(-15)):
        with Locations((0, 17.5)):
            Rectangle(CROQUIS36_W, CROQUIS36_H)
    extrude(amount=-CORTAR_EXTRUIR14_DEPTH, mode=Mode.SUBTRACT)

    # Croquis37 → Cortar-Extruir15 (cut, up to next)
    with BuildSketch(Plane.XY.offset(95), mode=Mode.PRIVATE) as cortar_extruir15_sk1:
        with BuildLine():
            Line((-42.5, 17.5), (-27.5, 17.5))
            ThreePointArc((-27.5, 17.5), (-25, 15), (-27.5, 12.5))
            Line((-27.5, 12.5), (-42.5, 12.5))
            ThreePointArc((-42.5, 12.5), (-45, 15), (-42.5, 17.5))
        make_face()
    cortar_extruir15_tool1 = extrude(cortar_extruir15_sk1.sketch, amount=-CORTAR_EXTRUIR15_REACH, mode=Mode.PRIVATE) & part_1.part
    # Croquis37 → Cortar-Extruir15 (cut, up to next)
    with BuildSketch(Plane.XY.offset(95), mode=Mode.PRIVATE) as cortar_extruir15_sk2:
        with BuildLine():
            Line((-42.5, 22.5), (-27.5, 22.5))
            ThreePointArc((-27.5, 22.5), (-25, 25), (-27.5, 27.5))
            Line((-27.5, 27.5), (-42.5, 27.5))
            ThreePointArc((-42.5, 27.5), (-45, 25), (-42.5, 22.5))
        make_face()
    cortar_extruir15_tool2 = extrude(cortar_extruir15_sk2.sketch, amount=-CORTAR_EXTRUIR15_REACH, mode=Mode.PRIVATE) & part_1.part
    # Croquis37 → Cortar-Extruir15 (cut, up to next)
    with BuildSketch(Plane.XY.offset(95), mode=Mode.PRIVATE) as cortar_extruir15_sk3:
        with BuildLine():
            Line((42.5, 17.5), (27.5, 17.5))
            ThreePointArc((27.5, 17.5), (25, 15), (27.5, 12.5))
            Line((27.5, 12.5), (42.5, 12.5))
            ThreePointArc((42.5, 12.5), (45, 15), (42.5, 17.5))
        make_face()
    cortar_extruir15_tool3 = extrude(cortar_extruir15_sk3.sketch, amount=-CORTAR_EXTRUIR15_REACH, mode=Mode.PRIVATE) & part_1.part
    # Croquis37 → Cortar-Extruir15 (cut, up to next)
    with BuildSketch(Plane.XY.offset(95), mode=Mode.PRIVATE) as cortar_extruir15_sk4:
        with BuildLine():
            Line((42.5, 22.5), (27.5, 22.5))
            ThreePointArc((27.5, 22.5), (25, 25), (27.5, 27.5))
            Line((27.5, 27.5), (42.5, 27.5))
            ThreePointArc((42.5, 27.5), (45, 25), (42.5, 22.5))
        make_face()
    cortar_extruir15_tool4 = extrude(cortar_extruir15_sk4.sketch, amount=-CORTAR_EXTRUIR15_REACH, mode=Mode.PRIVATE) & part_1.part
    add(cortar_extruir15_tool1.solids().sort_by_distance((-35, 15, 95))[0], mode=Mode.SUBTRACT)
    add(cortar_extruir15_tool2.solids().sort_by_distance((-35, 25, 95))[0], mode=Mode.SUBTRACT)
    add(cortar_extruir15_tool3.solids().sort_by_distance((35, 15, 95))[0], mode=Mode.SUBTRACT)
    add(cortar_extruir15_tool4.solids().sort_by_distance((35, 25, 95))[0], mode=Mode.SUBTRACT)

    # Croquis23 → Cortar-Extruir16 (cut)
    with BuildSketch(Plane.XY.offset(95)):
        with BuildLine():
            add(Edge.make_bspline(
                [(-6.941319119, 45.792736836), (-6.36662349, 34.537002147), (0.536039105, 35.406219345), (7.438701701, 36.275436542), (6.947828506, 47.541726564)],
                knots=[4.795494793, 4.795494793, 4.795494793, 6.360219335, 6.360219335, 7.924943878, 7.924943878, 7.924943878], degree=2, weights=[1, 0.709250219, 1, 0.709250219, 1]))
            add(Edge.make_bspline(
                [(6.947828506, 47.541726564), (6.710531016, 49.552293969), (6.367921085, 52.09089255), (13.414263493, 52.911827323), (21.258767726, 43.073212917), (2.562856997, 40.26492205), (27.319979568, 39.869500151), (21.461126335, 52.684908181), (15.281415628, 59.763496215), (8.942180612, 61.438619348), (6.511042979, 60.326661558), (0.1588757, 57.075570562)],
                knots=[0.012478218, 0.012478218, 0.012478218, 0.012478218, 0.104727482, 0.122183384, 0.187037245, 0.309753771, 0.453793407, 0.616774377, 0.686520291, 0.724842853, 1, 1, 1, 1], degree=3))
            add(Edge.make_bspline(
                [(-6.941319119, 45.792736836), (-5.190661894, 57.956400848), (-19.404965018, 48.975836575), (-8.665423996, 37.446473376), (-32.7836685, 46.685414588), (-7.823554221, 67.767324869), (0.1588757, 57.075570562)],
                knots=[0, 0, 0, 0, 0.267888426, 0.369212812, 0.489808383, 1, 1, 1, 1], degree=3))
        make_face()
    extrude(amount=-CORTAR_EXTRUIR16_DEPTH, mode=Mode.SUBTRACT)

    # Croquis25 → Cortar-Extruir17 (cut)
    with BuildSketch(Plane.XY.offset(95)):
        Polygon((-2.5, 15), (-12.5, 15), (-12.5, 32.5), (-2.5, 32.5), (-2.5, 27.5), (-7.5, 27.5), (-7.5, 20), (-2.5, 20), align=None)
        Polygon((2.5, 15), (2.5, 32.5), (12.5, 32.5), (12.5, 23.75), (7.5, 23.75), (7.5, 15), align=None)
    extrude(amount=-CORTAR_EXTRUIR17_DEPTH, mode=Mode.SUBTRACT)


solid = part_1.part
